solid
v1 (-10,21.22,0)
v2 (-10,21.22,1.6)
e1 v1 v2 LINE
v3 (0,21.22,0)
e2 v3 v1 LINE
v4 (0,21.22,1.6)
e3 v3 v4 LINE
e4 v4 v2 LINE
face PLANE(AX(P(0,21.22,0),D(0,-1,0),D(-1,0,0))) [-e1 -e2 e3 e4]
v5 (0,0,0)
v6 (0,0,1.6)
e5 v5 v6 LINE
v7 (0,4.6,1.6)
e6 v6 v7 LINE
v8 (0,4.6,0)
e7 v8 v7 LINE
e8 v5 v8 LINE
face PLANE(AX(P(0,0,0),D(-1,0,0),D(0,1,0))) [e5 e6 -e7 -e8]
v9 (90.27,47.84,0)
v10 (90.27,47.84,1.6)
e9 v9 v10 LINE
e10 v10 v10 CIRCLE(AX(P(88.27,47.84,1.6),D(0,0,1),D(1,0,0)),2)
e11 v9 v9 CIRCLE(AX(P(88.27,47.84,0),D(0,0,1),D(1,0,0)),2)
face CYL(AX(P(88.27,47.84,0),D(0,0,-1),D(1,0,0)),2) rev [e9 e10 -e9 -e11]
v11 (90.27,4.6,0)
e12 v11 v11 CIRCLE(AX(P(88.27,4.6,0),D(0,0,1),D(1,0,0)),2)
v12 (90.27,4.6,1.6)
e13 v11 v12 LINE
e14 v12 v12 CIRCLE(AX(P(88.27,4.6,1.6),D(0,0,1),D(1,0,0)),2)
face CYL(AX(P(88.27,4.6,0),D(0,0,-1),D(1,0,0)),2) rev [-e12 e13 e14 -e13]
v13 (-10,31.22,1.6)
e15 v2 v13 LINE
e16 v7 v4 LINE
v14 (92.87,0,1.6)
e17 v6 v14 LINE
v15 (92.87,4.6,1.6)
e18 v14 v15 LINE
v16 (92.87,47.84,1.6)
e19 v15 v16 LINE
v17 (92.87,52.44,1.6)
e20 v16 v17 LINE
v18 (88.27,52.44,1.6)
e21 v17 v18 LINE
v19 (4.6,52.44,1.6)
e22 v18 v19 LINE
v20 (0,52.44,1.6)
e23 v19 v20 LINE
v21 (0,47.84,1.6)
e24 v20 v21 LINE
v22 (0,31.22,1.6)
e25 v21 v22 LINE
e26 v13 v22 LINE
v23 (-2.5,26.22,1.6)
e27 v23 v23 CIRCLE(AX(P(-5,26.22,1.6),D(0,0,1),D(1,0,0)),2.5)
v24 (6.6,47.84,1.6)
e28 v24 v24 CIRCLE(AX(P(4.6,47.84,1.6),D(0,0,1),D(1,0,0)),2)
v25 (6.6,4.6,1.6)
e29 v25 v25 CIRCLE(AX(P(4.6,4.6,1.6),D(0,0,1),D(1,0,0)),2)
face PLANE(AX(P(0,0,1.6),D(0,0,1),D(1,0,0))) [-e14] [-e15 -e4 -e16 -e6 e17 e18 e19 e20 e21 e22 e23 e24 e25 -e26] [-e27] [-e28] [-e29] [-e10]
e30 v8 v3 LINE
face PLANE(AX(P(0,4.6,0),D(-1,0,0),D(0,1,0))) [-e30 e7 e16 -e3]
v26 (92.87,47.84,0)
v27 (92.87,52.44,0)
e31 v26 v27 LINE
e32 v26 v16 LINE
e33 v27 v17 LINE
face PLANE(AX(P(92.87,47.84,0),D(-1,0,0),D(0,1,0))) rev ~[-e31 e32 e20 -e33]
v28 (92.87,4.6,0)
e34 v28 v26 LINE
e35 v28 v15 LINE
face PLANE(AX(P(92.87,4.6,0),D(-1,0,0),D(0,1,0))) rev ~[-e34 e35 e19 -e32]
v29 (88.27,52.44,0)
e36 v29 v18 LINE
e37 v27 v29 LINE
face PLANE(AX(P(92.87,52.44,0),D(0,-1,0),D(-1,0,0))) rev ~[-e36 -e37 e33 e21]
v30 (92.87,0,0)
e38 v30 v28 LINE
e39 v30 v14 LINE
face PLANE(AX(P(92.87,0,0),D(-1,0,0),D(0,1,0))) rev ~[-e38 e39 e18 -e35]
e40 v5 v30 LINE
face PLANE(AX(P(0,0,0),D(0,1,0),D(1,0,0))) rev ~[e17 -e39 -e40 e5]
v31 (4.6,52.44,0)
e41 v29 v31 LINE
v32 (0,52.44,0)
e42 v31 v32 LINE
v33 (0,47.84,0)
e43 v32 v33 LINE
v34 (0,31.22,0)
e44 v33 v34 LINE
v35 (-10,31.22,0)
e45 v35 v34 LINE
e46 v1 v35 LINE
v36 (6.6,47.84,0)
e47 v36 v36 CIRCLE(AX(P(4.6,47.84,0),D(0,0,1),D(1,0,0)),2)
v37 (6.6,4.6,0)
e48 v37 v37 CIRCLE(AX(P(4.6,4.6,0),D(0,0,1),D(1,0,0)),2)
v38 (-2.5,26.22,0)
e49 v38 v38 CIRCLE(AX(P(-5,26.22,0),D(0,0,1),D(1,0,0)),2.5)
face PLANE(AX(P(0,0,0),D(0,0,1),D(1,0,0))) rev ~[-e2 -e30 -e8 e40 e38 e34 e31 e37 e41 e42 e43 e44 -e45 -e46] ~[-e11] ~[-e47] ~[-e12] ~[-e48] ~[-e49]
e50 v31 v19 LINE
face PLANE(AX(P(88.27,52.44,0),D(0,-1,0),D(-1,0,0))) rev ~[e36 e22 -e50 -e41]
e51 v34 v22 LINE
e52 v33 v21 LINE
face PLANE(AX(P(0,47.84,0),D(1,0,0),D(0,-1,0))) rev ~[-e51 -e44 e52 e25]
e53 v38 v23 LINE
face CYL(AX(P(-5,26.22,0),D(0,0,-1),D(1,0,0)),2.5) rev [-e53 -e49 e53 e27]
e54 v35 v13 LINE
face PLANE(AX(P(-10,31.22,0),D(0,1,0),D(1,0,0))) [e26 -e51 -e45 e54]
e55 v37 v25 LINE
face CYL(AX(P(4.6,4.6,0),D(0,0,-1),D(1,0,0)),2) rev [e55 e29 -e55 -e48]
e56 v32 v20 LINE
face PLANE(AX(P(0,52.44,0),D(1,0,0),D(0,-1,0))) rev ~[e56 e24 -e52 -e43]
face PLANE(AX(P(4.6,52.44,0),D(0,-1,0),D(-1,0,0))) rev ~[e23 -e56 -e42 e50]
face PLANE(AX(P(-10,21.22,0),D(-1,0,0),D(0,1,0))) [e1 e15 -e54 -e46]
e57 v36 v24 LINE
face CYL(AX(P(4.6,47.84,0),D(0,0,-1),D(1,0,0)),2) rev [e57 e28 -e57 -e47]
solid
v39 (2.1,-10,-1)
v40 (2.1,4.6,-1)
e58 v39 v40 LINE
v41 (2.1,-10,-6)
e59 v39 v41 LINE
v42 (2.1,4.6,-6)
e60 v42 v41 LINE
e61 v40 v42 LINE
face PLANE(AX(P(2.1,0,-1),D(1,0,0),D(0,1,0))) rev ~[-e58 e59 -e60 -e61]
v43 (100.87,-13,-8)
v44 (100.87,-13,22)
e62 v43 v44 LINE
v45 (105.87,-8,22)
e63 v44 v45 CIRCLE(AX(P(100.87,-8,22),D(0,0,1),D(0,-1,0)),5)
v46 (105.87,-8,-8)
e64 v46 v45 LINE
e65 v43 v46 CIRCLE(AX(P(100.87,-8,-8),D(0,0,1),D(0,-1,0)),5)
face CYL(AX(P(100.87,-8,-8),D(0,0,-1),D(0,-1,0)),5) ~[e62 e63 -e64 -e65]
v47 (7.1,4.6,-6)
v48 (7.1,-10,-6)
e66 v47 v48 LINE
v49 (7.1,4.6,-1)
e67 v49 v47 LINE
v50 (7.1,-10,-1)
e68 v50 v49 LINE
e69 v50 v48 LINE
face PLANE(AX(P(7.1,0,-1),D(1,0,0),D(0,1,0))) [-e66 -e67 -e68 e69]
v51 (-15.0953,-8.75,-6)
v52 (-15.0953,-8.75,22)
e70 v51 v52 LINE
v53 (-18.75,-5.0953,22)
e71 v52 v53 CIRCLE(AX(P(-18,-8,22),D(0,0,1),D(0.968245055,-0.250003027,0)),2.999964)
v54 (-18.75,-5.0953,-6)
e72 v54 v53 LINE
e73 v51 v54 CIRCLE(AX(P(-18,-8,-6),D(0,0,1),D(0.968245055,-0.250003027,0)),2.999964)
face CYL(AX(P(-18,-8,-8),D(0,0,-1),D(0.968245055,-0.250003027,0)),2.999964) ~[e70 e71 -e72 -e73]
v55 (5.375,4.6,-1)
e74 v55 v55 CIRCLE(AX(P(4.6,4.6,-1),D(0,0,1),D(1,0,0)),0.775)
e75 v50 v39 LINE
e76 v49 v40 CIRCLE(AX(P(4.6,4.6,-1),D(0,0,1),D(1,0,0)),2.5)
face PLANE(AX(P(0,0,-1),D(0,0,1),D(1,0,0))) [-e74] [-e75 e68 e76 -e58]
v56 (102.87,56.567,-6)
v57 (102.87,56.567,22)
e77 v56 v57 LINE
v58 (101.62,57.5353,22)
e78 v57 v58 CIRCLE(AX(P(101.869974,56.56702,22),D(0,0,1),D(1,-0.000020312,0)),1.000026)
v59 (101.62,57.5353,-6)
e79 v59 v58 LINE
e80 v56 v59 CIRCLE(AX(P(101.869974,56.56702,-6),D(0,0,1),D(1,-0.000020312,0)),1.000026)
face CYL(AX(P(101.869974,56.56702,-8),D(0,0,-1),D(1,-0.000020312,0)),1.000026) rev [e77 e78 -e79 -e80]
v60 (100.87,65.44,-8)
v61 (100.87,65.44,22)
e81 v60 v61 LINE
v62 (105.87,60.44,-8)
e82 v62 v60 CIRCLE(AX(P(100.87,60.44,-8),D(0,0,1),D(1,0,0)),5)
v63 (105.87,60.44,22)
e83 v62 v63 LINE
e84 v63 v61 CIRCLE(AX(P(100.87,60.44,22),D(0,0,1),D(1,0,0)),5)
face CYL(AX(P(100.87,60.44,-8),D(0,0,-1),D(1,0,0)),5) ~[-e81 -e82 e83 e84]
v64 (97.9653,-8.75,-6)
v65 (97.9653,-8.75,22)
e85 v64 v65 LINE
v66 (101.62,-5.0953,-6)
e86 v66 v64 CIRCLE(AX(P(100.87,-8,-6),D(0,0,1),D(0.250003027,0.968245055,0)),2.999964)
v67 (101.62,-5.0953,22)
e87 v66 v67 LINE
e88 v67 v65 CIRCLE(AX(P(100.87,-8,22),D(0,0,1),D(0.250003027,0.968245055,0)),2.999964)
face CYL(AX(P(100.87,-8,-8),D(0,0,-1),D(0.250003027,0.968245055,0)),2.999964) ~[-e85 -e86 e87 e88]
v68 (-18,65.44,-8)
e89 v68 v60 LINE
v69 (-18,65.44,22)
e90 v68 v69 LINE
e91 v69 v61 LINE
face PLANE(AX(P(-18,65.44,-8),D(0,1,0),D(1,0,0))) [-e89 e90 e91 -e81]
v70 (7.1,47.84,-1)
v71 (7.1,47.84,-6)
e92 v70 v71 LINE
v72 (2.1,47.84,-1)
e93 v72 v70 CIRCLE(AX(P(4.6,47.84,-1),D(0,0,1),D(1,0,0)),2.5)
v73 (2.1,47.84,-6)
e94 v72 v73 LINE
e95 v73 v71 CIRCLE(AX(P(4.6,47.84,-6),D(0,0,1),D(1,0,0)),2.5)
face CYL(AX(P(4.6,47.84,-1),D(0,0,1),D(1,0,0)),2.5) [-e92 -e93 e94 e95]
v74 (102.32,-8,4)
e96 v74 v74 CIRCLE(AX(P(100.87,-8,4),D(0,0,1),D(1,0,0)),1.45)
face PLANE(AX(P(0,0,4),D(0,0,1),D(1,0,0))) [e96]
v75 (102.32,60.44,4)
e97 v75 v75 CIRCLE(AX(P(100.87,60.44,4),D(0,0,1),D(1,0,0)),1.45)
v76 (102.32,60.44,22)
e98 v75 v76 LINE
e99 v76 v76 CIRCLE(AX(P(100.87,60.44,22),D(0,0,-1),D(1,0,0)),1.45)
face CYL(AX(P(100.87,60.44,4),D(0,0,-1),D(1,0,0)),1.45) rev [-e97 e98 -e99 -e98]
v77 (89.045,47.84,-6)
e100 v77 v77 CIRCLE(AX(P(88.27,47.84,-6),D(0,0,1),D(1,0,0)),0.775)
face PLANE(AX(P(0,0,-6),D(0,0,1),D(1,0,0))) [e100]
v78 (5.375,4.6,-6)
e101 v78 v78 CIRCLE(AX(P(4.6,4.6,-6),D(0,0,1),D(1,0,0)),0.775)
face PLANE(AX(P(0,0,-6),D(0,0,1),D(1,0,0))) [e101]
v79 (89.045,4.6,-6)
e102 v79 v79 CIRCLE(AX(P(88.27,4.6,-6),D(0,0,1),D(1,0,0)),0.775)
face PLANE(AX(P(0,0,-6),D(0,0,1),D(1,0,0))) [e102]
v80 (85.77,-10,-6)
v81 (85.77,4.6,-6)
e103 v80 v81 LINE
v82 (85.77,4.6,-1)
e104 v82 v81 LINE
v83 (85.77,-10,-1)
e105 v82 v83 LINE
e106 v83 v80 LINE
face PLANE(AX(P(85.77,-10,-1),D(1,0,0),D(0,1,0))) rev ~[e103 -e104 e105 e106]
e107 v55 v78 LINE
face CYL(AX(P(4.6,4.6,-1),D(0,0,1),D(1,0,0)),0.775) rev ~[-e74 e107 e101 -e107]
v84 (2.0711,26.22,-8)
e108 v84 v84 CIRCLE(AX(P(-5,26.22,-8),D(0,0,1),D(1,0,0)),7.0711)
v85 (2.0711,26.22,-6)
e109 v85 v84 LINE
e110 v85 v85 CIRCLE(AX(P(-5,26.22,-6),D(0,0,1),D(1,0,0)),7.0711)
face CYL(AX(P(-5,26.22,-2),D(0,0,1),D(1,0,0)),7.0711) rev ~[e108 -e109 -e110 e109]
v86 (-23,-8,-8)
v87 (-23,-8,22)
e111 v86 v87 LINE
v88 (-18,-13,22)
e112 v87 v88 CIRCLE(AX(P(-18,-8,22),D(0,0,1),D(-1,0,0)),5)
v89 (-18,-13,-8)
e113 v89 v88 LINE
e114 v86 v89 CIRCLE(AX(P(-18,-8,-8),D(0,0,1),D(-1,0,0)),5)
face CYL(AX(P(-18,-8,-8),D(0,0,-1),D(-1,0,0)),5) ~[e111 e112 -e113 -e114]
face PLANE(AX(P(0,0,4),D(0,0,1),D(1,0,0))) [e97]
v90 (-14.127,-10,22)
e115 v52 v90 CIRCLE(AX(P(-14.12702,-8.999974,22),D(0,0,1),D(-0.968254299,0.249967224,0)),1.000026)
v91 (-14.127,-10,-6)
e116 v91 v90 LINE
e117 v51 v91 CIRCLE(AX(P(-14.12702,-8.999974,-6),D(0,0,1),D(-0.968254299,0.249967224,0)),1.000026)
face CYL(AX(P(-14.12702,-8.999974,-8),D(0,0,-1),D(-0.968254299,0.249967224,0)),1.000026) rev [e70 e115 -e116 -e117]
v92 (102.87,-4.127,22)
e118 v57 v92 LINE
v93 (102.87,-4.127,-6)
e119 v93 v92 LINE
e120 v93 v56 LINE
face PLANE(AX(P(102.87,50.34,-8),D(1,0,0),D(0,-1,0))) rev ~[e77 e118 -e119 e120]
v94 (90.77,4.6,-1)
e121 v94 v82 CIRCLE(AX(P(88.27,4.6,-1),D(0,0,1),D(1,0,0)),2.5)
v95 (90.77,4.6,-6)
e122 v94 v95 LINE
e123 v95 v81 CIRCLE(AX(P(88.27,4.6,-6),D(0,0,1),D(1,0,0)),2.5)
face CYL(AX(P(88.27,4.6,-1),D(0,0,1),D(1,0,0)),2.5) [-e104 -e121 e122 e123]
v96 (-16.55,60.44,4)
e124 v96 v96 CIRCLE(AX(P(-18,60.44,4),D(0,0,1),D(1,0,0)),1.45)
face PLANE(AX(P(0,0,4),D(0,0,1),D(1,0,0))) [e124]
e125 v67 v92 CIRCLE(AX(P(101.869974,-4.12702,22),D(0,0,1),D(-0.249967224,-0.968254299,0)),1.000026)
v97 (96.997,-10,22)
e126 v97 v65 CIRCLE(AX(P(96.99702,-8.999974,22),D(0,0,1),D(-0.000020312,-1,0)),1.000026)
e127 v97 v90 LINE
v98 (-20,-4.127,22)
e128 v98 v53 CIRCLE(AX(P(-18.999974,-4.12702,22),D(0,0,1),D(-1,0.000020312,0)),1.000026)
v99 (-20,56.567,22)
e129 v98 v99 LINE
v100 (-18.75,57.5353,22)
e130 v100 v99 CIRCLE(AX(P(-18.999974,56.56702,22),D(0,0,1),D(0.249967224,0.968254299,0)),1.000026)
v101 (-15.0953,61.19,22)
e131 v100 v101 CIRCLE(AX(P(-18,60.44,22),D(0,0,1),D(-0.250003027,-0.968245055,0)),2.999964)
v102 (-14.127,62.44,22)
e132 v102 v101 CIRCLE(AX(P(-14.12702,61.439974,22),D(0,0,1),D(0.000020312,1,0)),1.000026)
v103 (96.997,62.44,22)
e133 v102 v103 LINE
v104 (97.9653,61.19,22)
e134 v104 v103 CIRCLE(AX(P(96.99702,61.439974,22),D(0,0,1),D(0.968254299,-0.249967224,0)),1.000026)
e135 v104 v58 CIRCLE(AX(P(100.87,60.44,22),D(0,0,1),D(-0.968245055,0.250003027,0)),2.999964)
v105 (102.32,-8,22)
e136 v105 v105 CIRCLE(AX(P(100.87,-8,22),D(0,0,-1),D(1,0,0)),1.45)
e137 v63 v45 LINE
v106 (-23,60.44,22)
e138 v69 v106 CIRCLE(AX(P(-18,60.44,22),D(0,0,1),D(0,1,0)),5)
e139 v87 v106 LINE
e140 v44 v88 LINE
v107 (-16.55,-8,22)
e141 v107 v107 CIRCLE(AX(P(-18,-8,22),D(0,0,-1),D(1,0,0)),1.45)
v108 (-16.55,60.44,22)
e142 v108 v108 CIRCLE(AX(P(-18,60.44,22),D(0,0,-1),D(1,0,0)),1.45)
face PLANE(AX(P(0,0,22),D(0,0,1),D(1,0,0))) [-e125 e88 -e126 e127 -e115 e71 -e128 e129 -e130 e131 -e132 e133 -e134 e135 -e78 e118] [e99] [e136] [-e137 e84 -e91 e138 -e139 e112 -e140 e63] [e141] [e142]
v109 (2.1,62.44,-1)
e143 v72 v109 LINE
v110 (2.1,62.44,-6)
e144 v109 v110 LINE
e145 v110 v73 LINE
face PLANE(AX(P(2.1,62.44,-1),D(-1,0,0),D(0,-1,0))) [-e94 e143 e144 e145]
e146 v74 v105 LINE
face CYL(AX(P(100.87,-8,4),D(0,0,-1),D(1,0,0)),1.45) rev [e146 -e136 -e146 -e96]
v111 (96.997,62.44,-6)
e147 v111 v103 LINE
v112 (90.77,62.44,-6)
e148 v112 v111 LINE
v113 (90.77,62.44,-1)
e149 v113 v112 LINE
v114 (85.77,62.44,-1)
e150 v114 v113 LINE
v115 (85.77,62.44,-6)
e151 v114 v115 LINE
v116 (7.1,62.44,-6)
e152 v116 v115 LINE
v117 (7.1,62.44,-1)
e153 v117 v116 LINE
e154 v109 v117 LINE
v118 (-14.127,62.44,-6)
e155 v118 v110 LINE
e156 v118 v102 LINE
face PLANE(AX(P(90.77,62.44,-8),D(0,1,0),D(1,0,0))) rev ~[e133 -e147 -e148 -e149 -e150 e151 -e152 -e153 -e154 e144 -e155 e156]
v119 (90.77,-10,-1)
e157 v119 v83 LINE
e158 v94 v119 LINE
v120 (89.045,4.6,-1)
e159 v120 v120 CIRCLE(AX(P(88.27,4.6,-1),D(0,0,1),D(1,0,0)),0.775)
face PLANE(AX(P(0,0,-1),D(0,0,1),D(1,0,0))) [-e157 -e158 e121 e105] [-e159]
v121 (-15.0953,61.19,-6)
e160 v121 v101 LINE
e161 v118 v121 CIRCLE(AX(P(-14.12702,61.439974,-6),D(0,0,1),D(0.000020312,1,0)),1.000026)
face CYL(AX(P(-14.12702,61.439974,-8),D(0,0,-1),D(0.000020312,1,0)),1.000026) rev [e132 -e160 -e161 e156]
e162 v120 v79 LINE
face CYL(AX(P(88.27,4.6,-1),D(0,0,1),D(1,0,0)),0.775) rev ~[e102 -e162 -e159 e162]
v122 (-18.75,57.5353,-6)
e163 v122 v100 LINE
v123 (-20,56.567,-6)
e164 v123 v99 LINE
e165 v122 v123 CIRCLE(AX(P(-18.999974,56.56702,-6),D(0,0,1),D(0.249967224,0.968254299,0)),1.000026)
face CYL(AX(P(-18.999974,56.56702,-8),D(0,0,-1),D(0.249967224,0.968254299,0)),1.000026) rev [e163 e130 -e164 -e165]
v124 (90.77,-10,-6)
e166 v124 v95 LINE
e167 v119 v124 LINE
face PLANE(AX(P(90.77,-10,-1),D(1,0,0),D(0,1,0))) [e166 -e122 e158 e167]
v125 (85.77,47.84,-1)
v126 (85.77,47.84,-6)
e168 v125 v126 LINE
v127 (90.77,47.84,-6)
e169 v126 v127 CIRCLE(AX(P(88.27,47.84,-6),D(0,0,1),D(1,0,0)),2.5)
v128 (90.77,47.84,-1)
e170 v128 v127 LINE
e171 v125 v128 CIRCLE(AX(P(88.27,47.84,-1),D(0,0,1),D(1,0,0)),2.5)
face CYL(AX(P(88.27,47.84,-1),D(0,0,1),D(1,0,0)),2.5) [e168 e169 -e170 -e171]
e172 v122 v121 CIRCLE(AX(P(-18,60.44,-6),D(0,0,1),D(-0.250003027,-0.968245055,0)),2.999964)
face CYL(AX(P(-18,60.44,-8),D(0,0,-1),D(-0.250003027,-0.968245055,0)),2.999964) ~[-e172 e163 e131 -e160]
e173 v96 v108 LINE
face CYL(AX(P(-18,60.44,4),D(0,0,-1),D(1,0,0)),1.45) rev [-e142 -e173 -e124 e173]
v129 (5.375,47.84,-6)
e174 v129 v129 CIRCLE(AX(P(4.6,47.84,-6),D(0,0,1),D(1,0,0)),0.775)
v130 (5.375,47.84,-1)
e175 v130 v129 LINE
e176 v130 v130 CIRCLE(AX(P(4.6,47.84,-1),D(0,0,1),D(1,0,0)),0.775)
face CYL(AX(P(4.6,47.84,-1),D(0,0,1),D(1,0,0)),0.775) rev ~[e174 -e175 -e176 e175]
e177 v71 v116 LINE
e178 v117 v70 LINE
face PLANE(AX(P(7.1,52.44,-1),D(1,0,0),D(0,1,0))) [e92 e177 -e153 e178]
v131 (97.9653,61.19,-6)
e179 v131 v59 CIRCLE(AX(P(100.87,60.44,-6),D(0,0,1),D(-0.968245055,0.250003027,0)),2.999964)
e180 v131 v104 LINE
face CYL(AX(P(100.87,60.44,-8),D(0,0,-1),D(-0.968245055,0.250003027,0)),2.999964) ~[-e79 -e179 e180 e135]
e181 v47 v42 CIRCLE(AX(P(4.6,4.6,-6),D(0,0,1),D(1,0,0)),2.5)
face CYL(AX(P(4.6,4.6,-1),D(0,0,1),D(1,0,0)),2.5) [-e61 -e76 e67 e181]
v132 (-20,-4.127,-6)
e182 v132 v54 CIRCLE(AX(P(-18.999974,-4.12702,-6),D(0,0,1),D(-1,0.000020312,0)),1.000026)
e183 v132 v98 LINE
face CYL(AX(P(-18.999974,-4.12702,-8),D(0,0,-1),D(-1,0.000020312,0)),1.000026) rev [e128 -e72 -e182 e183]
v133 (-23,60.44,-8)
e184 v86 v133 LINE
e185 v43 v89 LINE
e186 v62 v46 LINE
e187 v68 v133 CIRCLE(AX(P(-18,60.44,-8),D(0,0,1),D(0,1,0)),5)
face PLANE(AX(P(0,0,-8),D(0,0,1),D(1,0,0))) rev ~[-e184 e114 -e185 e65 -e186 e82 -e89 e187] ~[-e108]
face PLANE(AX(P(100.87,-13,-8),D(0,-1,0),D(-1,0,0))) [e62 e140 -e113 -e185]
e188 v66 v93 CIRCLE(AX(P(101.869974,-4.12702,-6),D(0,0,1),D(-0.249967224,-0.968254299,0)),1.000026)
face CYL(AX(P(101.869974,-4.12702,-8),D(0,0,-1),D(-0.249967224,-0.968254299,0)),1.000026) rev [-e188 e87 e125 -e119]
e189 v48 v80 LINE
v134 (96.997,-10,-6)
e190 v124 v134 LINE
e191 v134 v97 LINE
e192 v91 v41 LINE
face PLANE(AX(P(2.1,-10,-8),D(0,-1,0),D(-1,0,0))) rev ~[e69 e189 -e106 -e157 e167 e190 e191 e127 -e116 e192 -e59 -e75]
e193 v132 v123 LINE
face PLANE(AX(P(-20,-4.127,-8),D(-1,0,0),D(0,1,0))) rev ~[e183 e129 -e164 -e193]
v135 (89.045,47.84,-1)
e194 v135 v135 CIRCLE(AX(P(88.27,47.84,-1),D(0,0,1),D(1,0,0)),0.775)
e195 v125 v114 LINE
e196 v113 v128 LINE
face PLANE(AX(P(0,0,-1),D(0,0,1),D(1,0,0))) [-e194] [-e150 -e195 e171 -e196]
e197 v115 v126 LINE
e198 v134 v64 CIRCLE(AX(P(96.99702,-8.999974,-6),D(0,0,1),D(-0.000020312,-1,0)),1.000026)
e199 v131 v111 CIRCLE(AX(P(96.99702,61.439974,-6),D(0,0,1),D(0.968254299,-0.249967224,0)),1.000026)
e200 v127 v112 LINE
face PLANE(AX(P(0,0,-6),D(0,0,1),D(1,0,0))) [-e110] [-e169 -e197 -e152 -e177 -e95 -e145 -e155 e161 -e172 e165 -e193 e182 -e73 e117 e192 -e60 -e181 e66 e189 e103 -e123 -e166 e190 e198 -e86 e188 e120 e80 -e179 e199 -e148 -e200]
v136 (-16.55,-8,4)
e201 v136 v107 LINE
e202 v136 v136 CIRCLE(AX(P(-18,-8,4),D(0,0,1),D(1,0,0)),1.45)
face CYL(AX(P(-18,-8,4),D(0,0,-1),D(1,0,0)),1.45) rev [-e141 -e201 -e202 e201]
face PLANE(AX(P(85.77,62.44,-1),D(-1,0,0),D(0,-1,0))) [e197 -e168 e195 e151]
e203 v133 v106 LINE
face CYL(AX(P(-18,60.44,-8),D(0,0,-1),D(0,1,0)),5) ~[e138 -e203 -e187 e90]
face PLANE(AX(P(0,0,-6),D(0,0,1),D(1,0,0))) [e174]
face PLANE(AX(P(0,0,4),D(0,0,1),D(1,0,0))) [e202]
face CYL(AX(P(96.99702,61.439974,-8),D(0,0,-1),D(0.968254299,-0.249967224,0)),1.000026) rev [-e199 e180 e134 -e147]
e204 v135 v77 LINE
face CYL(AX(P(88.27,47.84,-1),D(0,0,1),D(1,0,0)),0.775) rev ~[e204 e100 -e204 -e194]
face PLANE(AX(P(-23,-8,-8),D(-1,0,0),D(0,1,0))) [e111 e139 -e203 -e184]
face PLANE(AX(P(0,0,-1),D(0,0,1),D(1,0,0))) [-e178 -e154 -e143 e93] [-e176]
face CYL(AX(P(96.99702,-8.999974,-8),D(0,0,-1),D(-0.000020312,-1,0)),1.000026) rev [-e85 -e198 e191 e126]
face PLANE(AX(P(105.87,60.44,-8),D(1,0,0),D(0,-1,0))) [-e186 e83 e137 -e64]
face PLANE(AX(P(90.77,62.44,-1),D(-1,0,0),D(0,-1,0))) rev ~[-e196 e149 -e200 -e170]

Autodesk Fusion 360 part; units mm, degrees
sketch "PCB" plane through (0, 0, 0) normal (0, 0, 1) x (1, 0, 0)
  line L0 (0, 0) -> (92.87, 0)
  line L1 (92.87, 0) -> (92.87, 52.44)
  line L2 (92.87, 52.44) -> (0, 52.44)
  line L3 (0, 0) -> (0, 21.22)
  line L4 (0, 52.44) -> (0, 31.22)
  line L5 (0, 21.22) -> (-10, 21.22)
  line L6 (-10, 21.22) -> (-10, 31.22)
  line L7 (-10, 31.22) -> (0, 31.22)
  line L8 (0, 52.44) -> (0, 31.22)
  line L9 (0, 21.22) -> (0, 0)
  circle A0 centre (-5, 26.22) radius 2.5
  line L10 (0, 52.44) -> (4.6, 52.44)
  line L11 (0, 52.44) -> (0, 47.84)
  circle A1 centre (4.6, 47.84) radius 2
  line L12 (92.87, 52.44) -> (88.27, 52.44)
  line L13 (92.87, 52.44) -> (92.87, 47.84)
  circle A2 centre (88.27, 47.84) radius 2
  line L14 (92.87, 0) -> (92.87, 4.6)
  circle A3 centre (88.27, 4.6) radius 2
  line L15 (0, 0) -> (0, 4.6)
  circle A4 centre (4.6, 4.6) radius 2
  dimension "d8" = 92.87
  dimension "d9" = 52.44
  dimension "d10" = 21.22
  dimension "d11" = 21.22
  dimension "d12" = 10
  dimension "d13" = 5
  dimension "d14" = 4.6
  dimension "d15" = 4.6
  dimension "d16" = 4
  dimension "d17" = 4.6
  dimension "d18" = 4.6
  dimension "d19" = 4
  dimension "d20" = 4.6
  dimension "d21" = 4
  dimension "d22" = 4.6
  dimension "d23" = 4
extrude "Extrude1" add sketch "PCB" along normal blind 1.6 makes body 1
sketch "PCB BOX" plane through (0, 0, 0) normal (0, 0, 1) x (1, 0, 0)
  line L0 (-14.127, 62.44) -> (96.997, 62.44)
  line L1 (102.87, 56.567) -> (102.87, -4.127)
  line L2 (96.997, -10) -> (-14.127, -10)
  line L3 (-20, -4.127) -> (-20, 56.567)
  line L4 (92.87, 52.44) -> (0, 52.44)
  line L5 (92.87, 0) -> (92.87, 52.44)
  line L6 (0, 0) -> (92.87, 0)
  line L7 (-10, 31.22) -> (-10, 21.22)
  line L8 (105.87, 60.44) -> (105.87, -8)
  arc A0 (100.87, -13) -> (105.87, -8) centre (100.87, -8) ccw
  line L9 (100.87, -13) -> (-18, -13)
  arc A1 (-23, -8) -> (-18, -13) centre (-18, -8) ccw
  line L10 (-23, -8) -> (-23, 60.44)
  arc A2 (-18, 65.44) -> (-23, 60.44) centre (-18, 60.44) ccw
  line L11 (-18, 65.44) -> (100.87, 65.44)
  arc A3 (105.87, 60.44) -> (100.87, 65.44) centre (100.87, 60.44) ccw
  circle A4 centre (-18, 60.44) radius 1.45
  arc A5 (-18.75, 57.5353) -> (-15.0953, 61.19) centre (-18, 60.44) ccw
  arc A6 (-18.75, 57.5353) -> (-20, 56.567) centre (-19, 56.567) ccw
  arc A7 (-14.127, 62.44) -> (-15.0953, 61.19) centre (-14.127, 61.44) ccw
  circle A8 centre (-18, -8) radius 1.45
  arc A9 (-15.0953, -8.75) -> (-18.75, -5.0953) centre (-18, -8) ccw
  arc A10 (-20, -4.127) -> (-18.75, -5.0953) centre (-19, -4.127) ccw
  arc A11 (-15.0953, -8.75) -> (-14.127, -10) centre (-14.127, -9) ccw
  circle A12 centre (100.87, 60.44) radius 1.45
  arc A13 (97.9653, 61.19) -> (101.62, 57.5353) centre (100.87, 60.44) ccw
  arc A14 (97.9653, 61.19) -> (96.997, 62.44) centre (96.997, 61.44) ccw
  arc A15 (102.87, 56.567) -> (101.62, 57.5353) centre (101.87, 56.567) ccw
  circle A16 centre (100.87, -8) radius 1.45
  arc A17 (101.62, -5.0953) -> (97.9653, -8.75) centre (100.87, -8) ccw
  arc A18 (96.997, -10) -> (97.9653, -8.75) centre (96.997, -9) ccw
  arc A19 (101.62, -5.0953) -> (102.87, -4.127) centre (101.87, -4.127) ccw
  circle A20 centre (88.27, 47.84) radius 2
  circle A21 centre (-5, 26.22) radius 2.5
  circle A22 centre (88.27, 4.6) radius 2
  circle A23 centre (4.6, 4.6) radius 2
  circle A24 centre (4.6, 47.84) radius 2
  line L12 (92.87, 0) -> (92.87, 52.44)
  line L13 (92.87, 52.44) -> (0, 52.44)
  line L14 (0, 52.44) -> (0, 31.22)
  line L15 (0, 31.22) -> (-10, 31.22)
  line L16 (-10, 31.22) -> (-10, 21.22)
  line L17 (-10, 21.22) -> (0, 21.22)
  line L18 (0, 21.22) -> (0, 0)
  line L19 (0, 0) -> (92.87, 0)
  circle A25 centre (4.6, 47.84) radius 0.775
  circle A26 centre (88.27, 47.84) radius 0.775
  circle A27 centre (4.6, 4.6) radius 0.775
  circle A28 centre (88.27, 4.6) radius 0.775
  circle A29 centre (4.6, 4.6) radius 2.5
  circle A30 centre (4.6, 47.84) radius 2.5
  circle A31 centre (88.27, 47.84) radius 2.5
  circle A32 centre (88.27, 4.6) radius 2.5
  line L20 (7.1, 47.84) -> (7.1, 62.44)
  line L21 (2.1, 62.44) -> (2.1, 47.84)
  line L22 (102.87, 50.34) -> (102, 50.34)
  line L23 (85.77, -10) -> (85.77, 4.6)
  line L24 (90.77, -10) -> (90.77, 4.6)
  line L25 (2.1, -10) -> (2.1, 4.6)
  line L26 (7.1, -10) -> (7.1, 4.6)
  line L27 (85.77, 62.44) -> (85.77, 47.84)
  line L28 (90.77, 62.44) -> (90.77, 47.84)
  circle A33 centre (-18, 60.44) radius 1.125
  circle A34 centre (100.87, 60.44) radius 1.125
  circle A35 centre (-18, -8) radius 1.125
  circle A36 centre (100.87, -8) radius 1.125
  circle A37 centre (-5, 26.22) radius 7.0711
  dimension "d26" = 10
  dimension "d27" = 10
  dimension "d28" = 10
  dimension "d29" = 10
  dimension "d32" = 2.9
  dimension "d33" = 6
  dimension "d34" = 1
  dimension "d35" = 2.9
  dimension "d36" = 6
  dimension "d37" = 1
  dimension "d38" = 2.9
  dimension "d39" = 6
  dimension "d40" = 1
  dimension "d41" = 2.9
  dimension "d42" = 6
  dimension "d43" = 1
  dimension "d53" = 1.55
  dimension "d54" = 1.55
  dimension "d55" = 1.55
  dimension "d56" = 1.55
  dimension "d57" = 5
  dimension "d58" = 5
  dimension "d59" = 5
  dimension "d60" = 5
  dimension "d64" = 2.25
  dimension "d65" = 2.25
  dimension "d66" = 2.25
  dimension "d67" = 2.25
extrude "Extrude2" add sketch "PCB BOX" along normal blind 2 from surface at -8 separate body contours L0 L2 L3 L4 L6 A5 A6 A7 A9 A10 A11 L13 L14 L18 L19 L21 L25 A37 | L0 L4 L13 L20 L21 | L0 L4 L13 L20 L27 | L4 L5 L6 L12 L13 L14 L18 L19 A29 A30 A31 A32 L20 L21 L23 L24 L25 L26 L27 L28 A37 | L4 L13 A30 L20 L21 | L0 L4 L13 L27 L28 | A30 | L0 L1 L2 L4 L5 L6 A13 A14 A15 A17 A18 A19 L12 L13 L19 L24 L28 | L4 L13 A31 L27 L28 | L7 L15 L16 L17 A37 | L15 A37 | A31 | L7 L16 A37 | L17 A37 | L2 L6 L19 L23 L24 | L6 L19 A32 L23 L24 | L6 L19 A29 L25 L26 | L2 L6 L19 L25 L26 | L2 L6 L19 L23 L26 | A32 | A29 | A20 | A21 | A22 | A23 | A24 | A25 | A26 | A27 | A28 makes body 2
extrude "Extrude3" add sketch "PCB BOX" along normal blind 30 from surface at -8 contours L8 A0 L9 A1 L10 A2 L11 A3 | A4 | A8 | A12 | A16 | A33 | A34 | A35 | A36 bodies 2
extrude "Extrude4" cut sketch "PCB BOX" along normal blind 40 from surface at 4 contours A4 | A8 | A12 | A16 | A33 | A34 | A35 | A36 bodies 2
extrude "Extrude5" add sketch "PCB BOX" against normal blind 5 from surface at -1 contours L0 L4 L13 L20 L21 | L4 L13 A30 L20 L21 | L0 L4 L13 L27 L28 | A30 | L4 L13 A31 L27 L28 | A31 | L2 L6 L19 L23 L24 | L6 L19 A32 L23 L24 | L6 L19 A29 L25 L26 | L2 L6 L19 L25 L26 | A32 | A29 | A20 | A22 | A23 | A24 bodies 2
extrude "Extrude6" add sketch "PCB BOX" along normal blind 7 from surface at 30 separate body contours L0 L2 L3 L4 L6 A5 A6 A7 A9 A10 A11 L13 L14 L18 L19 L21 L25 A37 | L0 L4 L13 L20 L21 | L0 L4 L13 L20 L27 | L4 L5 L6 L12 L13 L14 L18 L19 A29 A30 A31 A32 L20 L21 L23 L24 L25 L26 L27 L28 A37 | L4 L13 A30 L20 L21 | L0 L4 L13 L27 L28 | A30 | L0 L1 L2 L4 L5 L6 A13 A14 A15 A17 A18 A19 L12 L13 L19 L24 L28 | L4 L13 A31 L27 L28 | L7 L15 L16 L17 A37 | L15 A37 | A31 | L7 L16 A37 | L17 A37 | L2 L6 L19 L23 L24 | L6 L19 A32 L23 L24 | L6 L19 A29 L25 L26 | L2 L6 L19 L25 L26 | L2 L6 L19 L23 L26 | A32 | A29 | L8 A0 L9 A1 L10 A2 L11 A3 | A4 | A8 | A12 | A16 | A20 | A21 | A22 | A23 | A24 | A25 | A26 | A27 | A28 makes body 3
extrude "Extrude7" cut sketch "PCB BOX" along normal blind 40 from surface at 10 contours L7 L15 L16 L17 A37 | L15 A37 | L7 L16 A37 | L17 A37 | A21 bodies 3
extrude "Extrude8" cut sketch "PCB BOX" against normal blind 20 from surface at -2 contours L7 L15 L16 L17 A37 | L15 A37 | L7 L16 A37 | L17 A37 | A21 bodies 2
hidden bodies 3
